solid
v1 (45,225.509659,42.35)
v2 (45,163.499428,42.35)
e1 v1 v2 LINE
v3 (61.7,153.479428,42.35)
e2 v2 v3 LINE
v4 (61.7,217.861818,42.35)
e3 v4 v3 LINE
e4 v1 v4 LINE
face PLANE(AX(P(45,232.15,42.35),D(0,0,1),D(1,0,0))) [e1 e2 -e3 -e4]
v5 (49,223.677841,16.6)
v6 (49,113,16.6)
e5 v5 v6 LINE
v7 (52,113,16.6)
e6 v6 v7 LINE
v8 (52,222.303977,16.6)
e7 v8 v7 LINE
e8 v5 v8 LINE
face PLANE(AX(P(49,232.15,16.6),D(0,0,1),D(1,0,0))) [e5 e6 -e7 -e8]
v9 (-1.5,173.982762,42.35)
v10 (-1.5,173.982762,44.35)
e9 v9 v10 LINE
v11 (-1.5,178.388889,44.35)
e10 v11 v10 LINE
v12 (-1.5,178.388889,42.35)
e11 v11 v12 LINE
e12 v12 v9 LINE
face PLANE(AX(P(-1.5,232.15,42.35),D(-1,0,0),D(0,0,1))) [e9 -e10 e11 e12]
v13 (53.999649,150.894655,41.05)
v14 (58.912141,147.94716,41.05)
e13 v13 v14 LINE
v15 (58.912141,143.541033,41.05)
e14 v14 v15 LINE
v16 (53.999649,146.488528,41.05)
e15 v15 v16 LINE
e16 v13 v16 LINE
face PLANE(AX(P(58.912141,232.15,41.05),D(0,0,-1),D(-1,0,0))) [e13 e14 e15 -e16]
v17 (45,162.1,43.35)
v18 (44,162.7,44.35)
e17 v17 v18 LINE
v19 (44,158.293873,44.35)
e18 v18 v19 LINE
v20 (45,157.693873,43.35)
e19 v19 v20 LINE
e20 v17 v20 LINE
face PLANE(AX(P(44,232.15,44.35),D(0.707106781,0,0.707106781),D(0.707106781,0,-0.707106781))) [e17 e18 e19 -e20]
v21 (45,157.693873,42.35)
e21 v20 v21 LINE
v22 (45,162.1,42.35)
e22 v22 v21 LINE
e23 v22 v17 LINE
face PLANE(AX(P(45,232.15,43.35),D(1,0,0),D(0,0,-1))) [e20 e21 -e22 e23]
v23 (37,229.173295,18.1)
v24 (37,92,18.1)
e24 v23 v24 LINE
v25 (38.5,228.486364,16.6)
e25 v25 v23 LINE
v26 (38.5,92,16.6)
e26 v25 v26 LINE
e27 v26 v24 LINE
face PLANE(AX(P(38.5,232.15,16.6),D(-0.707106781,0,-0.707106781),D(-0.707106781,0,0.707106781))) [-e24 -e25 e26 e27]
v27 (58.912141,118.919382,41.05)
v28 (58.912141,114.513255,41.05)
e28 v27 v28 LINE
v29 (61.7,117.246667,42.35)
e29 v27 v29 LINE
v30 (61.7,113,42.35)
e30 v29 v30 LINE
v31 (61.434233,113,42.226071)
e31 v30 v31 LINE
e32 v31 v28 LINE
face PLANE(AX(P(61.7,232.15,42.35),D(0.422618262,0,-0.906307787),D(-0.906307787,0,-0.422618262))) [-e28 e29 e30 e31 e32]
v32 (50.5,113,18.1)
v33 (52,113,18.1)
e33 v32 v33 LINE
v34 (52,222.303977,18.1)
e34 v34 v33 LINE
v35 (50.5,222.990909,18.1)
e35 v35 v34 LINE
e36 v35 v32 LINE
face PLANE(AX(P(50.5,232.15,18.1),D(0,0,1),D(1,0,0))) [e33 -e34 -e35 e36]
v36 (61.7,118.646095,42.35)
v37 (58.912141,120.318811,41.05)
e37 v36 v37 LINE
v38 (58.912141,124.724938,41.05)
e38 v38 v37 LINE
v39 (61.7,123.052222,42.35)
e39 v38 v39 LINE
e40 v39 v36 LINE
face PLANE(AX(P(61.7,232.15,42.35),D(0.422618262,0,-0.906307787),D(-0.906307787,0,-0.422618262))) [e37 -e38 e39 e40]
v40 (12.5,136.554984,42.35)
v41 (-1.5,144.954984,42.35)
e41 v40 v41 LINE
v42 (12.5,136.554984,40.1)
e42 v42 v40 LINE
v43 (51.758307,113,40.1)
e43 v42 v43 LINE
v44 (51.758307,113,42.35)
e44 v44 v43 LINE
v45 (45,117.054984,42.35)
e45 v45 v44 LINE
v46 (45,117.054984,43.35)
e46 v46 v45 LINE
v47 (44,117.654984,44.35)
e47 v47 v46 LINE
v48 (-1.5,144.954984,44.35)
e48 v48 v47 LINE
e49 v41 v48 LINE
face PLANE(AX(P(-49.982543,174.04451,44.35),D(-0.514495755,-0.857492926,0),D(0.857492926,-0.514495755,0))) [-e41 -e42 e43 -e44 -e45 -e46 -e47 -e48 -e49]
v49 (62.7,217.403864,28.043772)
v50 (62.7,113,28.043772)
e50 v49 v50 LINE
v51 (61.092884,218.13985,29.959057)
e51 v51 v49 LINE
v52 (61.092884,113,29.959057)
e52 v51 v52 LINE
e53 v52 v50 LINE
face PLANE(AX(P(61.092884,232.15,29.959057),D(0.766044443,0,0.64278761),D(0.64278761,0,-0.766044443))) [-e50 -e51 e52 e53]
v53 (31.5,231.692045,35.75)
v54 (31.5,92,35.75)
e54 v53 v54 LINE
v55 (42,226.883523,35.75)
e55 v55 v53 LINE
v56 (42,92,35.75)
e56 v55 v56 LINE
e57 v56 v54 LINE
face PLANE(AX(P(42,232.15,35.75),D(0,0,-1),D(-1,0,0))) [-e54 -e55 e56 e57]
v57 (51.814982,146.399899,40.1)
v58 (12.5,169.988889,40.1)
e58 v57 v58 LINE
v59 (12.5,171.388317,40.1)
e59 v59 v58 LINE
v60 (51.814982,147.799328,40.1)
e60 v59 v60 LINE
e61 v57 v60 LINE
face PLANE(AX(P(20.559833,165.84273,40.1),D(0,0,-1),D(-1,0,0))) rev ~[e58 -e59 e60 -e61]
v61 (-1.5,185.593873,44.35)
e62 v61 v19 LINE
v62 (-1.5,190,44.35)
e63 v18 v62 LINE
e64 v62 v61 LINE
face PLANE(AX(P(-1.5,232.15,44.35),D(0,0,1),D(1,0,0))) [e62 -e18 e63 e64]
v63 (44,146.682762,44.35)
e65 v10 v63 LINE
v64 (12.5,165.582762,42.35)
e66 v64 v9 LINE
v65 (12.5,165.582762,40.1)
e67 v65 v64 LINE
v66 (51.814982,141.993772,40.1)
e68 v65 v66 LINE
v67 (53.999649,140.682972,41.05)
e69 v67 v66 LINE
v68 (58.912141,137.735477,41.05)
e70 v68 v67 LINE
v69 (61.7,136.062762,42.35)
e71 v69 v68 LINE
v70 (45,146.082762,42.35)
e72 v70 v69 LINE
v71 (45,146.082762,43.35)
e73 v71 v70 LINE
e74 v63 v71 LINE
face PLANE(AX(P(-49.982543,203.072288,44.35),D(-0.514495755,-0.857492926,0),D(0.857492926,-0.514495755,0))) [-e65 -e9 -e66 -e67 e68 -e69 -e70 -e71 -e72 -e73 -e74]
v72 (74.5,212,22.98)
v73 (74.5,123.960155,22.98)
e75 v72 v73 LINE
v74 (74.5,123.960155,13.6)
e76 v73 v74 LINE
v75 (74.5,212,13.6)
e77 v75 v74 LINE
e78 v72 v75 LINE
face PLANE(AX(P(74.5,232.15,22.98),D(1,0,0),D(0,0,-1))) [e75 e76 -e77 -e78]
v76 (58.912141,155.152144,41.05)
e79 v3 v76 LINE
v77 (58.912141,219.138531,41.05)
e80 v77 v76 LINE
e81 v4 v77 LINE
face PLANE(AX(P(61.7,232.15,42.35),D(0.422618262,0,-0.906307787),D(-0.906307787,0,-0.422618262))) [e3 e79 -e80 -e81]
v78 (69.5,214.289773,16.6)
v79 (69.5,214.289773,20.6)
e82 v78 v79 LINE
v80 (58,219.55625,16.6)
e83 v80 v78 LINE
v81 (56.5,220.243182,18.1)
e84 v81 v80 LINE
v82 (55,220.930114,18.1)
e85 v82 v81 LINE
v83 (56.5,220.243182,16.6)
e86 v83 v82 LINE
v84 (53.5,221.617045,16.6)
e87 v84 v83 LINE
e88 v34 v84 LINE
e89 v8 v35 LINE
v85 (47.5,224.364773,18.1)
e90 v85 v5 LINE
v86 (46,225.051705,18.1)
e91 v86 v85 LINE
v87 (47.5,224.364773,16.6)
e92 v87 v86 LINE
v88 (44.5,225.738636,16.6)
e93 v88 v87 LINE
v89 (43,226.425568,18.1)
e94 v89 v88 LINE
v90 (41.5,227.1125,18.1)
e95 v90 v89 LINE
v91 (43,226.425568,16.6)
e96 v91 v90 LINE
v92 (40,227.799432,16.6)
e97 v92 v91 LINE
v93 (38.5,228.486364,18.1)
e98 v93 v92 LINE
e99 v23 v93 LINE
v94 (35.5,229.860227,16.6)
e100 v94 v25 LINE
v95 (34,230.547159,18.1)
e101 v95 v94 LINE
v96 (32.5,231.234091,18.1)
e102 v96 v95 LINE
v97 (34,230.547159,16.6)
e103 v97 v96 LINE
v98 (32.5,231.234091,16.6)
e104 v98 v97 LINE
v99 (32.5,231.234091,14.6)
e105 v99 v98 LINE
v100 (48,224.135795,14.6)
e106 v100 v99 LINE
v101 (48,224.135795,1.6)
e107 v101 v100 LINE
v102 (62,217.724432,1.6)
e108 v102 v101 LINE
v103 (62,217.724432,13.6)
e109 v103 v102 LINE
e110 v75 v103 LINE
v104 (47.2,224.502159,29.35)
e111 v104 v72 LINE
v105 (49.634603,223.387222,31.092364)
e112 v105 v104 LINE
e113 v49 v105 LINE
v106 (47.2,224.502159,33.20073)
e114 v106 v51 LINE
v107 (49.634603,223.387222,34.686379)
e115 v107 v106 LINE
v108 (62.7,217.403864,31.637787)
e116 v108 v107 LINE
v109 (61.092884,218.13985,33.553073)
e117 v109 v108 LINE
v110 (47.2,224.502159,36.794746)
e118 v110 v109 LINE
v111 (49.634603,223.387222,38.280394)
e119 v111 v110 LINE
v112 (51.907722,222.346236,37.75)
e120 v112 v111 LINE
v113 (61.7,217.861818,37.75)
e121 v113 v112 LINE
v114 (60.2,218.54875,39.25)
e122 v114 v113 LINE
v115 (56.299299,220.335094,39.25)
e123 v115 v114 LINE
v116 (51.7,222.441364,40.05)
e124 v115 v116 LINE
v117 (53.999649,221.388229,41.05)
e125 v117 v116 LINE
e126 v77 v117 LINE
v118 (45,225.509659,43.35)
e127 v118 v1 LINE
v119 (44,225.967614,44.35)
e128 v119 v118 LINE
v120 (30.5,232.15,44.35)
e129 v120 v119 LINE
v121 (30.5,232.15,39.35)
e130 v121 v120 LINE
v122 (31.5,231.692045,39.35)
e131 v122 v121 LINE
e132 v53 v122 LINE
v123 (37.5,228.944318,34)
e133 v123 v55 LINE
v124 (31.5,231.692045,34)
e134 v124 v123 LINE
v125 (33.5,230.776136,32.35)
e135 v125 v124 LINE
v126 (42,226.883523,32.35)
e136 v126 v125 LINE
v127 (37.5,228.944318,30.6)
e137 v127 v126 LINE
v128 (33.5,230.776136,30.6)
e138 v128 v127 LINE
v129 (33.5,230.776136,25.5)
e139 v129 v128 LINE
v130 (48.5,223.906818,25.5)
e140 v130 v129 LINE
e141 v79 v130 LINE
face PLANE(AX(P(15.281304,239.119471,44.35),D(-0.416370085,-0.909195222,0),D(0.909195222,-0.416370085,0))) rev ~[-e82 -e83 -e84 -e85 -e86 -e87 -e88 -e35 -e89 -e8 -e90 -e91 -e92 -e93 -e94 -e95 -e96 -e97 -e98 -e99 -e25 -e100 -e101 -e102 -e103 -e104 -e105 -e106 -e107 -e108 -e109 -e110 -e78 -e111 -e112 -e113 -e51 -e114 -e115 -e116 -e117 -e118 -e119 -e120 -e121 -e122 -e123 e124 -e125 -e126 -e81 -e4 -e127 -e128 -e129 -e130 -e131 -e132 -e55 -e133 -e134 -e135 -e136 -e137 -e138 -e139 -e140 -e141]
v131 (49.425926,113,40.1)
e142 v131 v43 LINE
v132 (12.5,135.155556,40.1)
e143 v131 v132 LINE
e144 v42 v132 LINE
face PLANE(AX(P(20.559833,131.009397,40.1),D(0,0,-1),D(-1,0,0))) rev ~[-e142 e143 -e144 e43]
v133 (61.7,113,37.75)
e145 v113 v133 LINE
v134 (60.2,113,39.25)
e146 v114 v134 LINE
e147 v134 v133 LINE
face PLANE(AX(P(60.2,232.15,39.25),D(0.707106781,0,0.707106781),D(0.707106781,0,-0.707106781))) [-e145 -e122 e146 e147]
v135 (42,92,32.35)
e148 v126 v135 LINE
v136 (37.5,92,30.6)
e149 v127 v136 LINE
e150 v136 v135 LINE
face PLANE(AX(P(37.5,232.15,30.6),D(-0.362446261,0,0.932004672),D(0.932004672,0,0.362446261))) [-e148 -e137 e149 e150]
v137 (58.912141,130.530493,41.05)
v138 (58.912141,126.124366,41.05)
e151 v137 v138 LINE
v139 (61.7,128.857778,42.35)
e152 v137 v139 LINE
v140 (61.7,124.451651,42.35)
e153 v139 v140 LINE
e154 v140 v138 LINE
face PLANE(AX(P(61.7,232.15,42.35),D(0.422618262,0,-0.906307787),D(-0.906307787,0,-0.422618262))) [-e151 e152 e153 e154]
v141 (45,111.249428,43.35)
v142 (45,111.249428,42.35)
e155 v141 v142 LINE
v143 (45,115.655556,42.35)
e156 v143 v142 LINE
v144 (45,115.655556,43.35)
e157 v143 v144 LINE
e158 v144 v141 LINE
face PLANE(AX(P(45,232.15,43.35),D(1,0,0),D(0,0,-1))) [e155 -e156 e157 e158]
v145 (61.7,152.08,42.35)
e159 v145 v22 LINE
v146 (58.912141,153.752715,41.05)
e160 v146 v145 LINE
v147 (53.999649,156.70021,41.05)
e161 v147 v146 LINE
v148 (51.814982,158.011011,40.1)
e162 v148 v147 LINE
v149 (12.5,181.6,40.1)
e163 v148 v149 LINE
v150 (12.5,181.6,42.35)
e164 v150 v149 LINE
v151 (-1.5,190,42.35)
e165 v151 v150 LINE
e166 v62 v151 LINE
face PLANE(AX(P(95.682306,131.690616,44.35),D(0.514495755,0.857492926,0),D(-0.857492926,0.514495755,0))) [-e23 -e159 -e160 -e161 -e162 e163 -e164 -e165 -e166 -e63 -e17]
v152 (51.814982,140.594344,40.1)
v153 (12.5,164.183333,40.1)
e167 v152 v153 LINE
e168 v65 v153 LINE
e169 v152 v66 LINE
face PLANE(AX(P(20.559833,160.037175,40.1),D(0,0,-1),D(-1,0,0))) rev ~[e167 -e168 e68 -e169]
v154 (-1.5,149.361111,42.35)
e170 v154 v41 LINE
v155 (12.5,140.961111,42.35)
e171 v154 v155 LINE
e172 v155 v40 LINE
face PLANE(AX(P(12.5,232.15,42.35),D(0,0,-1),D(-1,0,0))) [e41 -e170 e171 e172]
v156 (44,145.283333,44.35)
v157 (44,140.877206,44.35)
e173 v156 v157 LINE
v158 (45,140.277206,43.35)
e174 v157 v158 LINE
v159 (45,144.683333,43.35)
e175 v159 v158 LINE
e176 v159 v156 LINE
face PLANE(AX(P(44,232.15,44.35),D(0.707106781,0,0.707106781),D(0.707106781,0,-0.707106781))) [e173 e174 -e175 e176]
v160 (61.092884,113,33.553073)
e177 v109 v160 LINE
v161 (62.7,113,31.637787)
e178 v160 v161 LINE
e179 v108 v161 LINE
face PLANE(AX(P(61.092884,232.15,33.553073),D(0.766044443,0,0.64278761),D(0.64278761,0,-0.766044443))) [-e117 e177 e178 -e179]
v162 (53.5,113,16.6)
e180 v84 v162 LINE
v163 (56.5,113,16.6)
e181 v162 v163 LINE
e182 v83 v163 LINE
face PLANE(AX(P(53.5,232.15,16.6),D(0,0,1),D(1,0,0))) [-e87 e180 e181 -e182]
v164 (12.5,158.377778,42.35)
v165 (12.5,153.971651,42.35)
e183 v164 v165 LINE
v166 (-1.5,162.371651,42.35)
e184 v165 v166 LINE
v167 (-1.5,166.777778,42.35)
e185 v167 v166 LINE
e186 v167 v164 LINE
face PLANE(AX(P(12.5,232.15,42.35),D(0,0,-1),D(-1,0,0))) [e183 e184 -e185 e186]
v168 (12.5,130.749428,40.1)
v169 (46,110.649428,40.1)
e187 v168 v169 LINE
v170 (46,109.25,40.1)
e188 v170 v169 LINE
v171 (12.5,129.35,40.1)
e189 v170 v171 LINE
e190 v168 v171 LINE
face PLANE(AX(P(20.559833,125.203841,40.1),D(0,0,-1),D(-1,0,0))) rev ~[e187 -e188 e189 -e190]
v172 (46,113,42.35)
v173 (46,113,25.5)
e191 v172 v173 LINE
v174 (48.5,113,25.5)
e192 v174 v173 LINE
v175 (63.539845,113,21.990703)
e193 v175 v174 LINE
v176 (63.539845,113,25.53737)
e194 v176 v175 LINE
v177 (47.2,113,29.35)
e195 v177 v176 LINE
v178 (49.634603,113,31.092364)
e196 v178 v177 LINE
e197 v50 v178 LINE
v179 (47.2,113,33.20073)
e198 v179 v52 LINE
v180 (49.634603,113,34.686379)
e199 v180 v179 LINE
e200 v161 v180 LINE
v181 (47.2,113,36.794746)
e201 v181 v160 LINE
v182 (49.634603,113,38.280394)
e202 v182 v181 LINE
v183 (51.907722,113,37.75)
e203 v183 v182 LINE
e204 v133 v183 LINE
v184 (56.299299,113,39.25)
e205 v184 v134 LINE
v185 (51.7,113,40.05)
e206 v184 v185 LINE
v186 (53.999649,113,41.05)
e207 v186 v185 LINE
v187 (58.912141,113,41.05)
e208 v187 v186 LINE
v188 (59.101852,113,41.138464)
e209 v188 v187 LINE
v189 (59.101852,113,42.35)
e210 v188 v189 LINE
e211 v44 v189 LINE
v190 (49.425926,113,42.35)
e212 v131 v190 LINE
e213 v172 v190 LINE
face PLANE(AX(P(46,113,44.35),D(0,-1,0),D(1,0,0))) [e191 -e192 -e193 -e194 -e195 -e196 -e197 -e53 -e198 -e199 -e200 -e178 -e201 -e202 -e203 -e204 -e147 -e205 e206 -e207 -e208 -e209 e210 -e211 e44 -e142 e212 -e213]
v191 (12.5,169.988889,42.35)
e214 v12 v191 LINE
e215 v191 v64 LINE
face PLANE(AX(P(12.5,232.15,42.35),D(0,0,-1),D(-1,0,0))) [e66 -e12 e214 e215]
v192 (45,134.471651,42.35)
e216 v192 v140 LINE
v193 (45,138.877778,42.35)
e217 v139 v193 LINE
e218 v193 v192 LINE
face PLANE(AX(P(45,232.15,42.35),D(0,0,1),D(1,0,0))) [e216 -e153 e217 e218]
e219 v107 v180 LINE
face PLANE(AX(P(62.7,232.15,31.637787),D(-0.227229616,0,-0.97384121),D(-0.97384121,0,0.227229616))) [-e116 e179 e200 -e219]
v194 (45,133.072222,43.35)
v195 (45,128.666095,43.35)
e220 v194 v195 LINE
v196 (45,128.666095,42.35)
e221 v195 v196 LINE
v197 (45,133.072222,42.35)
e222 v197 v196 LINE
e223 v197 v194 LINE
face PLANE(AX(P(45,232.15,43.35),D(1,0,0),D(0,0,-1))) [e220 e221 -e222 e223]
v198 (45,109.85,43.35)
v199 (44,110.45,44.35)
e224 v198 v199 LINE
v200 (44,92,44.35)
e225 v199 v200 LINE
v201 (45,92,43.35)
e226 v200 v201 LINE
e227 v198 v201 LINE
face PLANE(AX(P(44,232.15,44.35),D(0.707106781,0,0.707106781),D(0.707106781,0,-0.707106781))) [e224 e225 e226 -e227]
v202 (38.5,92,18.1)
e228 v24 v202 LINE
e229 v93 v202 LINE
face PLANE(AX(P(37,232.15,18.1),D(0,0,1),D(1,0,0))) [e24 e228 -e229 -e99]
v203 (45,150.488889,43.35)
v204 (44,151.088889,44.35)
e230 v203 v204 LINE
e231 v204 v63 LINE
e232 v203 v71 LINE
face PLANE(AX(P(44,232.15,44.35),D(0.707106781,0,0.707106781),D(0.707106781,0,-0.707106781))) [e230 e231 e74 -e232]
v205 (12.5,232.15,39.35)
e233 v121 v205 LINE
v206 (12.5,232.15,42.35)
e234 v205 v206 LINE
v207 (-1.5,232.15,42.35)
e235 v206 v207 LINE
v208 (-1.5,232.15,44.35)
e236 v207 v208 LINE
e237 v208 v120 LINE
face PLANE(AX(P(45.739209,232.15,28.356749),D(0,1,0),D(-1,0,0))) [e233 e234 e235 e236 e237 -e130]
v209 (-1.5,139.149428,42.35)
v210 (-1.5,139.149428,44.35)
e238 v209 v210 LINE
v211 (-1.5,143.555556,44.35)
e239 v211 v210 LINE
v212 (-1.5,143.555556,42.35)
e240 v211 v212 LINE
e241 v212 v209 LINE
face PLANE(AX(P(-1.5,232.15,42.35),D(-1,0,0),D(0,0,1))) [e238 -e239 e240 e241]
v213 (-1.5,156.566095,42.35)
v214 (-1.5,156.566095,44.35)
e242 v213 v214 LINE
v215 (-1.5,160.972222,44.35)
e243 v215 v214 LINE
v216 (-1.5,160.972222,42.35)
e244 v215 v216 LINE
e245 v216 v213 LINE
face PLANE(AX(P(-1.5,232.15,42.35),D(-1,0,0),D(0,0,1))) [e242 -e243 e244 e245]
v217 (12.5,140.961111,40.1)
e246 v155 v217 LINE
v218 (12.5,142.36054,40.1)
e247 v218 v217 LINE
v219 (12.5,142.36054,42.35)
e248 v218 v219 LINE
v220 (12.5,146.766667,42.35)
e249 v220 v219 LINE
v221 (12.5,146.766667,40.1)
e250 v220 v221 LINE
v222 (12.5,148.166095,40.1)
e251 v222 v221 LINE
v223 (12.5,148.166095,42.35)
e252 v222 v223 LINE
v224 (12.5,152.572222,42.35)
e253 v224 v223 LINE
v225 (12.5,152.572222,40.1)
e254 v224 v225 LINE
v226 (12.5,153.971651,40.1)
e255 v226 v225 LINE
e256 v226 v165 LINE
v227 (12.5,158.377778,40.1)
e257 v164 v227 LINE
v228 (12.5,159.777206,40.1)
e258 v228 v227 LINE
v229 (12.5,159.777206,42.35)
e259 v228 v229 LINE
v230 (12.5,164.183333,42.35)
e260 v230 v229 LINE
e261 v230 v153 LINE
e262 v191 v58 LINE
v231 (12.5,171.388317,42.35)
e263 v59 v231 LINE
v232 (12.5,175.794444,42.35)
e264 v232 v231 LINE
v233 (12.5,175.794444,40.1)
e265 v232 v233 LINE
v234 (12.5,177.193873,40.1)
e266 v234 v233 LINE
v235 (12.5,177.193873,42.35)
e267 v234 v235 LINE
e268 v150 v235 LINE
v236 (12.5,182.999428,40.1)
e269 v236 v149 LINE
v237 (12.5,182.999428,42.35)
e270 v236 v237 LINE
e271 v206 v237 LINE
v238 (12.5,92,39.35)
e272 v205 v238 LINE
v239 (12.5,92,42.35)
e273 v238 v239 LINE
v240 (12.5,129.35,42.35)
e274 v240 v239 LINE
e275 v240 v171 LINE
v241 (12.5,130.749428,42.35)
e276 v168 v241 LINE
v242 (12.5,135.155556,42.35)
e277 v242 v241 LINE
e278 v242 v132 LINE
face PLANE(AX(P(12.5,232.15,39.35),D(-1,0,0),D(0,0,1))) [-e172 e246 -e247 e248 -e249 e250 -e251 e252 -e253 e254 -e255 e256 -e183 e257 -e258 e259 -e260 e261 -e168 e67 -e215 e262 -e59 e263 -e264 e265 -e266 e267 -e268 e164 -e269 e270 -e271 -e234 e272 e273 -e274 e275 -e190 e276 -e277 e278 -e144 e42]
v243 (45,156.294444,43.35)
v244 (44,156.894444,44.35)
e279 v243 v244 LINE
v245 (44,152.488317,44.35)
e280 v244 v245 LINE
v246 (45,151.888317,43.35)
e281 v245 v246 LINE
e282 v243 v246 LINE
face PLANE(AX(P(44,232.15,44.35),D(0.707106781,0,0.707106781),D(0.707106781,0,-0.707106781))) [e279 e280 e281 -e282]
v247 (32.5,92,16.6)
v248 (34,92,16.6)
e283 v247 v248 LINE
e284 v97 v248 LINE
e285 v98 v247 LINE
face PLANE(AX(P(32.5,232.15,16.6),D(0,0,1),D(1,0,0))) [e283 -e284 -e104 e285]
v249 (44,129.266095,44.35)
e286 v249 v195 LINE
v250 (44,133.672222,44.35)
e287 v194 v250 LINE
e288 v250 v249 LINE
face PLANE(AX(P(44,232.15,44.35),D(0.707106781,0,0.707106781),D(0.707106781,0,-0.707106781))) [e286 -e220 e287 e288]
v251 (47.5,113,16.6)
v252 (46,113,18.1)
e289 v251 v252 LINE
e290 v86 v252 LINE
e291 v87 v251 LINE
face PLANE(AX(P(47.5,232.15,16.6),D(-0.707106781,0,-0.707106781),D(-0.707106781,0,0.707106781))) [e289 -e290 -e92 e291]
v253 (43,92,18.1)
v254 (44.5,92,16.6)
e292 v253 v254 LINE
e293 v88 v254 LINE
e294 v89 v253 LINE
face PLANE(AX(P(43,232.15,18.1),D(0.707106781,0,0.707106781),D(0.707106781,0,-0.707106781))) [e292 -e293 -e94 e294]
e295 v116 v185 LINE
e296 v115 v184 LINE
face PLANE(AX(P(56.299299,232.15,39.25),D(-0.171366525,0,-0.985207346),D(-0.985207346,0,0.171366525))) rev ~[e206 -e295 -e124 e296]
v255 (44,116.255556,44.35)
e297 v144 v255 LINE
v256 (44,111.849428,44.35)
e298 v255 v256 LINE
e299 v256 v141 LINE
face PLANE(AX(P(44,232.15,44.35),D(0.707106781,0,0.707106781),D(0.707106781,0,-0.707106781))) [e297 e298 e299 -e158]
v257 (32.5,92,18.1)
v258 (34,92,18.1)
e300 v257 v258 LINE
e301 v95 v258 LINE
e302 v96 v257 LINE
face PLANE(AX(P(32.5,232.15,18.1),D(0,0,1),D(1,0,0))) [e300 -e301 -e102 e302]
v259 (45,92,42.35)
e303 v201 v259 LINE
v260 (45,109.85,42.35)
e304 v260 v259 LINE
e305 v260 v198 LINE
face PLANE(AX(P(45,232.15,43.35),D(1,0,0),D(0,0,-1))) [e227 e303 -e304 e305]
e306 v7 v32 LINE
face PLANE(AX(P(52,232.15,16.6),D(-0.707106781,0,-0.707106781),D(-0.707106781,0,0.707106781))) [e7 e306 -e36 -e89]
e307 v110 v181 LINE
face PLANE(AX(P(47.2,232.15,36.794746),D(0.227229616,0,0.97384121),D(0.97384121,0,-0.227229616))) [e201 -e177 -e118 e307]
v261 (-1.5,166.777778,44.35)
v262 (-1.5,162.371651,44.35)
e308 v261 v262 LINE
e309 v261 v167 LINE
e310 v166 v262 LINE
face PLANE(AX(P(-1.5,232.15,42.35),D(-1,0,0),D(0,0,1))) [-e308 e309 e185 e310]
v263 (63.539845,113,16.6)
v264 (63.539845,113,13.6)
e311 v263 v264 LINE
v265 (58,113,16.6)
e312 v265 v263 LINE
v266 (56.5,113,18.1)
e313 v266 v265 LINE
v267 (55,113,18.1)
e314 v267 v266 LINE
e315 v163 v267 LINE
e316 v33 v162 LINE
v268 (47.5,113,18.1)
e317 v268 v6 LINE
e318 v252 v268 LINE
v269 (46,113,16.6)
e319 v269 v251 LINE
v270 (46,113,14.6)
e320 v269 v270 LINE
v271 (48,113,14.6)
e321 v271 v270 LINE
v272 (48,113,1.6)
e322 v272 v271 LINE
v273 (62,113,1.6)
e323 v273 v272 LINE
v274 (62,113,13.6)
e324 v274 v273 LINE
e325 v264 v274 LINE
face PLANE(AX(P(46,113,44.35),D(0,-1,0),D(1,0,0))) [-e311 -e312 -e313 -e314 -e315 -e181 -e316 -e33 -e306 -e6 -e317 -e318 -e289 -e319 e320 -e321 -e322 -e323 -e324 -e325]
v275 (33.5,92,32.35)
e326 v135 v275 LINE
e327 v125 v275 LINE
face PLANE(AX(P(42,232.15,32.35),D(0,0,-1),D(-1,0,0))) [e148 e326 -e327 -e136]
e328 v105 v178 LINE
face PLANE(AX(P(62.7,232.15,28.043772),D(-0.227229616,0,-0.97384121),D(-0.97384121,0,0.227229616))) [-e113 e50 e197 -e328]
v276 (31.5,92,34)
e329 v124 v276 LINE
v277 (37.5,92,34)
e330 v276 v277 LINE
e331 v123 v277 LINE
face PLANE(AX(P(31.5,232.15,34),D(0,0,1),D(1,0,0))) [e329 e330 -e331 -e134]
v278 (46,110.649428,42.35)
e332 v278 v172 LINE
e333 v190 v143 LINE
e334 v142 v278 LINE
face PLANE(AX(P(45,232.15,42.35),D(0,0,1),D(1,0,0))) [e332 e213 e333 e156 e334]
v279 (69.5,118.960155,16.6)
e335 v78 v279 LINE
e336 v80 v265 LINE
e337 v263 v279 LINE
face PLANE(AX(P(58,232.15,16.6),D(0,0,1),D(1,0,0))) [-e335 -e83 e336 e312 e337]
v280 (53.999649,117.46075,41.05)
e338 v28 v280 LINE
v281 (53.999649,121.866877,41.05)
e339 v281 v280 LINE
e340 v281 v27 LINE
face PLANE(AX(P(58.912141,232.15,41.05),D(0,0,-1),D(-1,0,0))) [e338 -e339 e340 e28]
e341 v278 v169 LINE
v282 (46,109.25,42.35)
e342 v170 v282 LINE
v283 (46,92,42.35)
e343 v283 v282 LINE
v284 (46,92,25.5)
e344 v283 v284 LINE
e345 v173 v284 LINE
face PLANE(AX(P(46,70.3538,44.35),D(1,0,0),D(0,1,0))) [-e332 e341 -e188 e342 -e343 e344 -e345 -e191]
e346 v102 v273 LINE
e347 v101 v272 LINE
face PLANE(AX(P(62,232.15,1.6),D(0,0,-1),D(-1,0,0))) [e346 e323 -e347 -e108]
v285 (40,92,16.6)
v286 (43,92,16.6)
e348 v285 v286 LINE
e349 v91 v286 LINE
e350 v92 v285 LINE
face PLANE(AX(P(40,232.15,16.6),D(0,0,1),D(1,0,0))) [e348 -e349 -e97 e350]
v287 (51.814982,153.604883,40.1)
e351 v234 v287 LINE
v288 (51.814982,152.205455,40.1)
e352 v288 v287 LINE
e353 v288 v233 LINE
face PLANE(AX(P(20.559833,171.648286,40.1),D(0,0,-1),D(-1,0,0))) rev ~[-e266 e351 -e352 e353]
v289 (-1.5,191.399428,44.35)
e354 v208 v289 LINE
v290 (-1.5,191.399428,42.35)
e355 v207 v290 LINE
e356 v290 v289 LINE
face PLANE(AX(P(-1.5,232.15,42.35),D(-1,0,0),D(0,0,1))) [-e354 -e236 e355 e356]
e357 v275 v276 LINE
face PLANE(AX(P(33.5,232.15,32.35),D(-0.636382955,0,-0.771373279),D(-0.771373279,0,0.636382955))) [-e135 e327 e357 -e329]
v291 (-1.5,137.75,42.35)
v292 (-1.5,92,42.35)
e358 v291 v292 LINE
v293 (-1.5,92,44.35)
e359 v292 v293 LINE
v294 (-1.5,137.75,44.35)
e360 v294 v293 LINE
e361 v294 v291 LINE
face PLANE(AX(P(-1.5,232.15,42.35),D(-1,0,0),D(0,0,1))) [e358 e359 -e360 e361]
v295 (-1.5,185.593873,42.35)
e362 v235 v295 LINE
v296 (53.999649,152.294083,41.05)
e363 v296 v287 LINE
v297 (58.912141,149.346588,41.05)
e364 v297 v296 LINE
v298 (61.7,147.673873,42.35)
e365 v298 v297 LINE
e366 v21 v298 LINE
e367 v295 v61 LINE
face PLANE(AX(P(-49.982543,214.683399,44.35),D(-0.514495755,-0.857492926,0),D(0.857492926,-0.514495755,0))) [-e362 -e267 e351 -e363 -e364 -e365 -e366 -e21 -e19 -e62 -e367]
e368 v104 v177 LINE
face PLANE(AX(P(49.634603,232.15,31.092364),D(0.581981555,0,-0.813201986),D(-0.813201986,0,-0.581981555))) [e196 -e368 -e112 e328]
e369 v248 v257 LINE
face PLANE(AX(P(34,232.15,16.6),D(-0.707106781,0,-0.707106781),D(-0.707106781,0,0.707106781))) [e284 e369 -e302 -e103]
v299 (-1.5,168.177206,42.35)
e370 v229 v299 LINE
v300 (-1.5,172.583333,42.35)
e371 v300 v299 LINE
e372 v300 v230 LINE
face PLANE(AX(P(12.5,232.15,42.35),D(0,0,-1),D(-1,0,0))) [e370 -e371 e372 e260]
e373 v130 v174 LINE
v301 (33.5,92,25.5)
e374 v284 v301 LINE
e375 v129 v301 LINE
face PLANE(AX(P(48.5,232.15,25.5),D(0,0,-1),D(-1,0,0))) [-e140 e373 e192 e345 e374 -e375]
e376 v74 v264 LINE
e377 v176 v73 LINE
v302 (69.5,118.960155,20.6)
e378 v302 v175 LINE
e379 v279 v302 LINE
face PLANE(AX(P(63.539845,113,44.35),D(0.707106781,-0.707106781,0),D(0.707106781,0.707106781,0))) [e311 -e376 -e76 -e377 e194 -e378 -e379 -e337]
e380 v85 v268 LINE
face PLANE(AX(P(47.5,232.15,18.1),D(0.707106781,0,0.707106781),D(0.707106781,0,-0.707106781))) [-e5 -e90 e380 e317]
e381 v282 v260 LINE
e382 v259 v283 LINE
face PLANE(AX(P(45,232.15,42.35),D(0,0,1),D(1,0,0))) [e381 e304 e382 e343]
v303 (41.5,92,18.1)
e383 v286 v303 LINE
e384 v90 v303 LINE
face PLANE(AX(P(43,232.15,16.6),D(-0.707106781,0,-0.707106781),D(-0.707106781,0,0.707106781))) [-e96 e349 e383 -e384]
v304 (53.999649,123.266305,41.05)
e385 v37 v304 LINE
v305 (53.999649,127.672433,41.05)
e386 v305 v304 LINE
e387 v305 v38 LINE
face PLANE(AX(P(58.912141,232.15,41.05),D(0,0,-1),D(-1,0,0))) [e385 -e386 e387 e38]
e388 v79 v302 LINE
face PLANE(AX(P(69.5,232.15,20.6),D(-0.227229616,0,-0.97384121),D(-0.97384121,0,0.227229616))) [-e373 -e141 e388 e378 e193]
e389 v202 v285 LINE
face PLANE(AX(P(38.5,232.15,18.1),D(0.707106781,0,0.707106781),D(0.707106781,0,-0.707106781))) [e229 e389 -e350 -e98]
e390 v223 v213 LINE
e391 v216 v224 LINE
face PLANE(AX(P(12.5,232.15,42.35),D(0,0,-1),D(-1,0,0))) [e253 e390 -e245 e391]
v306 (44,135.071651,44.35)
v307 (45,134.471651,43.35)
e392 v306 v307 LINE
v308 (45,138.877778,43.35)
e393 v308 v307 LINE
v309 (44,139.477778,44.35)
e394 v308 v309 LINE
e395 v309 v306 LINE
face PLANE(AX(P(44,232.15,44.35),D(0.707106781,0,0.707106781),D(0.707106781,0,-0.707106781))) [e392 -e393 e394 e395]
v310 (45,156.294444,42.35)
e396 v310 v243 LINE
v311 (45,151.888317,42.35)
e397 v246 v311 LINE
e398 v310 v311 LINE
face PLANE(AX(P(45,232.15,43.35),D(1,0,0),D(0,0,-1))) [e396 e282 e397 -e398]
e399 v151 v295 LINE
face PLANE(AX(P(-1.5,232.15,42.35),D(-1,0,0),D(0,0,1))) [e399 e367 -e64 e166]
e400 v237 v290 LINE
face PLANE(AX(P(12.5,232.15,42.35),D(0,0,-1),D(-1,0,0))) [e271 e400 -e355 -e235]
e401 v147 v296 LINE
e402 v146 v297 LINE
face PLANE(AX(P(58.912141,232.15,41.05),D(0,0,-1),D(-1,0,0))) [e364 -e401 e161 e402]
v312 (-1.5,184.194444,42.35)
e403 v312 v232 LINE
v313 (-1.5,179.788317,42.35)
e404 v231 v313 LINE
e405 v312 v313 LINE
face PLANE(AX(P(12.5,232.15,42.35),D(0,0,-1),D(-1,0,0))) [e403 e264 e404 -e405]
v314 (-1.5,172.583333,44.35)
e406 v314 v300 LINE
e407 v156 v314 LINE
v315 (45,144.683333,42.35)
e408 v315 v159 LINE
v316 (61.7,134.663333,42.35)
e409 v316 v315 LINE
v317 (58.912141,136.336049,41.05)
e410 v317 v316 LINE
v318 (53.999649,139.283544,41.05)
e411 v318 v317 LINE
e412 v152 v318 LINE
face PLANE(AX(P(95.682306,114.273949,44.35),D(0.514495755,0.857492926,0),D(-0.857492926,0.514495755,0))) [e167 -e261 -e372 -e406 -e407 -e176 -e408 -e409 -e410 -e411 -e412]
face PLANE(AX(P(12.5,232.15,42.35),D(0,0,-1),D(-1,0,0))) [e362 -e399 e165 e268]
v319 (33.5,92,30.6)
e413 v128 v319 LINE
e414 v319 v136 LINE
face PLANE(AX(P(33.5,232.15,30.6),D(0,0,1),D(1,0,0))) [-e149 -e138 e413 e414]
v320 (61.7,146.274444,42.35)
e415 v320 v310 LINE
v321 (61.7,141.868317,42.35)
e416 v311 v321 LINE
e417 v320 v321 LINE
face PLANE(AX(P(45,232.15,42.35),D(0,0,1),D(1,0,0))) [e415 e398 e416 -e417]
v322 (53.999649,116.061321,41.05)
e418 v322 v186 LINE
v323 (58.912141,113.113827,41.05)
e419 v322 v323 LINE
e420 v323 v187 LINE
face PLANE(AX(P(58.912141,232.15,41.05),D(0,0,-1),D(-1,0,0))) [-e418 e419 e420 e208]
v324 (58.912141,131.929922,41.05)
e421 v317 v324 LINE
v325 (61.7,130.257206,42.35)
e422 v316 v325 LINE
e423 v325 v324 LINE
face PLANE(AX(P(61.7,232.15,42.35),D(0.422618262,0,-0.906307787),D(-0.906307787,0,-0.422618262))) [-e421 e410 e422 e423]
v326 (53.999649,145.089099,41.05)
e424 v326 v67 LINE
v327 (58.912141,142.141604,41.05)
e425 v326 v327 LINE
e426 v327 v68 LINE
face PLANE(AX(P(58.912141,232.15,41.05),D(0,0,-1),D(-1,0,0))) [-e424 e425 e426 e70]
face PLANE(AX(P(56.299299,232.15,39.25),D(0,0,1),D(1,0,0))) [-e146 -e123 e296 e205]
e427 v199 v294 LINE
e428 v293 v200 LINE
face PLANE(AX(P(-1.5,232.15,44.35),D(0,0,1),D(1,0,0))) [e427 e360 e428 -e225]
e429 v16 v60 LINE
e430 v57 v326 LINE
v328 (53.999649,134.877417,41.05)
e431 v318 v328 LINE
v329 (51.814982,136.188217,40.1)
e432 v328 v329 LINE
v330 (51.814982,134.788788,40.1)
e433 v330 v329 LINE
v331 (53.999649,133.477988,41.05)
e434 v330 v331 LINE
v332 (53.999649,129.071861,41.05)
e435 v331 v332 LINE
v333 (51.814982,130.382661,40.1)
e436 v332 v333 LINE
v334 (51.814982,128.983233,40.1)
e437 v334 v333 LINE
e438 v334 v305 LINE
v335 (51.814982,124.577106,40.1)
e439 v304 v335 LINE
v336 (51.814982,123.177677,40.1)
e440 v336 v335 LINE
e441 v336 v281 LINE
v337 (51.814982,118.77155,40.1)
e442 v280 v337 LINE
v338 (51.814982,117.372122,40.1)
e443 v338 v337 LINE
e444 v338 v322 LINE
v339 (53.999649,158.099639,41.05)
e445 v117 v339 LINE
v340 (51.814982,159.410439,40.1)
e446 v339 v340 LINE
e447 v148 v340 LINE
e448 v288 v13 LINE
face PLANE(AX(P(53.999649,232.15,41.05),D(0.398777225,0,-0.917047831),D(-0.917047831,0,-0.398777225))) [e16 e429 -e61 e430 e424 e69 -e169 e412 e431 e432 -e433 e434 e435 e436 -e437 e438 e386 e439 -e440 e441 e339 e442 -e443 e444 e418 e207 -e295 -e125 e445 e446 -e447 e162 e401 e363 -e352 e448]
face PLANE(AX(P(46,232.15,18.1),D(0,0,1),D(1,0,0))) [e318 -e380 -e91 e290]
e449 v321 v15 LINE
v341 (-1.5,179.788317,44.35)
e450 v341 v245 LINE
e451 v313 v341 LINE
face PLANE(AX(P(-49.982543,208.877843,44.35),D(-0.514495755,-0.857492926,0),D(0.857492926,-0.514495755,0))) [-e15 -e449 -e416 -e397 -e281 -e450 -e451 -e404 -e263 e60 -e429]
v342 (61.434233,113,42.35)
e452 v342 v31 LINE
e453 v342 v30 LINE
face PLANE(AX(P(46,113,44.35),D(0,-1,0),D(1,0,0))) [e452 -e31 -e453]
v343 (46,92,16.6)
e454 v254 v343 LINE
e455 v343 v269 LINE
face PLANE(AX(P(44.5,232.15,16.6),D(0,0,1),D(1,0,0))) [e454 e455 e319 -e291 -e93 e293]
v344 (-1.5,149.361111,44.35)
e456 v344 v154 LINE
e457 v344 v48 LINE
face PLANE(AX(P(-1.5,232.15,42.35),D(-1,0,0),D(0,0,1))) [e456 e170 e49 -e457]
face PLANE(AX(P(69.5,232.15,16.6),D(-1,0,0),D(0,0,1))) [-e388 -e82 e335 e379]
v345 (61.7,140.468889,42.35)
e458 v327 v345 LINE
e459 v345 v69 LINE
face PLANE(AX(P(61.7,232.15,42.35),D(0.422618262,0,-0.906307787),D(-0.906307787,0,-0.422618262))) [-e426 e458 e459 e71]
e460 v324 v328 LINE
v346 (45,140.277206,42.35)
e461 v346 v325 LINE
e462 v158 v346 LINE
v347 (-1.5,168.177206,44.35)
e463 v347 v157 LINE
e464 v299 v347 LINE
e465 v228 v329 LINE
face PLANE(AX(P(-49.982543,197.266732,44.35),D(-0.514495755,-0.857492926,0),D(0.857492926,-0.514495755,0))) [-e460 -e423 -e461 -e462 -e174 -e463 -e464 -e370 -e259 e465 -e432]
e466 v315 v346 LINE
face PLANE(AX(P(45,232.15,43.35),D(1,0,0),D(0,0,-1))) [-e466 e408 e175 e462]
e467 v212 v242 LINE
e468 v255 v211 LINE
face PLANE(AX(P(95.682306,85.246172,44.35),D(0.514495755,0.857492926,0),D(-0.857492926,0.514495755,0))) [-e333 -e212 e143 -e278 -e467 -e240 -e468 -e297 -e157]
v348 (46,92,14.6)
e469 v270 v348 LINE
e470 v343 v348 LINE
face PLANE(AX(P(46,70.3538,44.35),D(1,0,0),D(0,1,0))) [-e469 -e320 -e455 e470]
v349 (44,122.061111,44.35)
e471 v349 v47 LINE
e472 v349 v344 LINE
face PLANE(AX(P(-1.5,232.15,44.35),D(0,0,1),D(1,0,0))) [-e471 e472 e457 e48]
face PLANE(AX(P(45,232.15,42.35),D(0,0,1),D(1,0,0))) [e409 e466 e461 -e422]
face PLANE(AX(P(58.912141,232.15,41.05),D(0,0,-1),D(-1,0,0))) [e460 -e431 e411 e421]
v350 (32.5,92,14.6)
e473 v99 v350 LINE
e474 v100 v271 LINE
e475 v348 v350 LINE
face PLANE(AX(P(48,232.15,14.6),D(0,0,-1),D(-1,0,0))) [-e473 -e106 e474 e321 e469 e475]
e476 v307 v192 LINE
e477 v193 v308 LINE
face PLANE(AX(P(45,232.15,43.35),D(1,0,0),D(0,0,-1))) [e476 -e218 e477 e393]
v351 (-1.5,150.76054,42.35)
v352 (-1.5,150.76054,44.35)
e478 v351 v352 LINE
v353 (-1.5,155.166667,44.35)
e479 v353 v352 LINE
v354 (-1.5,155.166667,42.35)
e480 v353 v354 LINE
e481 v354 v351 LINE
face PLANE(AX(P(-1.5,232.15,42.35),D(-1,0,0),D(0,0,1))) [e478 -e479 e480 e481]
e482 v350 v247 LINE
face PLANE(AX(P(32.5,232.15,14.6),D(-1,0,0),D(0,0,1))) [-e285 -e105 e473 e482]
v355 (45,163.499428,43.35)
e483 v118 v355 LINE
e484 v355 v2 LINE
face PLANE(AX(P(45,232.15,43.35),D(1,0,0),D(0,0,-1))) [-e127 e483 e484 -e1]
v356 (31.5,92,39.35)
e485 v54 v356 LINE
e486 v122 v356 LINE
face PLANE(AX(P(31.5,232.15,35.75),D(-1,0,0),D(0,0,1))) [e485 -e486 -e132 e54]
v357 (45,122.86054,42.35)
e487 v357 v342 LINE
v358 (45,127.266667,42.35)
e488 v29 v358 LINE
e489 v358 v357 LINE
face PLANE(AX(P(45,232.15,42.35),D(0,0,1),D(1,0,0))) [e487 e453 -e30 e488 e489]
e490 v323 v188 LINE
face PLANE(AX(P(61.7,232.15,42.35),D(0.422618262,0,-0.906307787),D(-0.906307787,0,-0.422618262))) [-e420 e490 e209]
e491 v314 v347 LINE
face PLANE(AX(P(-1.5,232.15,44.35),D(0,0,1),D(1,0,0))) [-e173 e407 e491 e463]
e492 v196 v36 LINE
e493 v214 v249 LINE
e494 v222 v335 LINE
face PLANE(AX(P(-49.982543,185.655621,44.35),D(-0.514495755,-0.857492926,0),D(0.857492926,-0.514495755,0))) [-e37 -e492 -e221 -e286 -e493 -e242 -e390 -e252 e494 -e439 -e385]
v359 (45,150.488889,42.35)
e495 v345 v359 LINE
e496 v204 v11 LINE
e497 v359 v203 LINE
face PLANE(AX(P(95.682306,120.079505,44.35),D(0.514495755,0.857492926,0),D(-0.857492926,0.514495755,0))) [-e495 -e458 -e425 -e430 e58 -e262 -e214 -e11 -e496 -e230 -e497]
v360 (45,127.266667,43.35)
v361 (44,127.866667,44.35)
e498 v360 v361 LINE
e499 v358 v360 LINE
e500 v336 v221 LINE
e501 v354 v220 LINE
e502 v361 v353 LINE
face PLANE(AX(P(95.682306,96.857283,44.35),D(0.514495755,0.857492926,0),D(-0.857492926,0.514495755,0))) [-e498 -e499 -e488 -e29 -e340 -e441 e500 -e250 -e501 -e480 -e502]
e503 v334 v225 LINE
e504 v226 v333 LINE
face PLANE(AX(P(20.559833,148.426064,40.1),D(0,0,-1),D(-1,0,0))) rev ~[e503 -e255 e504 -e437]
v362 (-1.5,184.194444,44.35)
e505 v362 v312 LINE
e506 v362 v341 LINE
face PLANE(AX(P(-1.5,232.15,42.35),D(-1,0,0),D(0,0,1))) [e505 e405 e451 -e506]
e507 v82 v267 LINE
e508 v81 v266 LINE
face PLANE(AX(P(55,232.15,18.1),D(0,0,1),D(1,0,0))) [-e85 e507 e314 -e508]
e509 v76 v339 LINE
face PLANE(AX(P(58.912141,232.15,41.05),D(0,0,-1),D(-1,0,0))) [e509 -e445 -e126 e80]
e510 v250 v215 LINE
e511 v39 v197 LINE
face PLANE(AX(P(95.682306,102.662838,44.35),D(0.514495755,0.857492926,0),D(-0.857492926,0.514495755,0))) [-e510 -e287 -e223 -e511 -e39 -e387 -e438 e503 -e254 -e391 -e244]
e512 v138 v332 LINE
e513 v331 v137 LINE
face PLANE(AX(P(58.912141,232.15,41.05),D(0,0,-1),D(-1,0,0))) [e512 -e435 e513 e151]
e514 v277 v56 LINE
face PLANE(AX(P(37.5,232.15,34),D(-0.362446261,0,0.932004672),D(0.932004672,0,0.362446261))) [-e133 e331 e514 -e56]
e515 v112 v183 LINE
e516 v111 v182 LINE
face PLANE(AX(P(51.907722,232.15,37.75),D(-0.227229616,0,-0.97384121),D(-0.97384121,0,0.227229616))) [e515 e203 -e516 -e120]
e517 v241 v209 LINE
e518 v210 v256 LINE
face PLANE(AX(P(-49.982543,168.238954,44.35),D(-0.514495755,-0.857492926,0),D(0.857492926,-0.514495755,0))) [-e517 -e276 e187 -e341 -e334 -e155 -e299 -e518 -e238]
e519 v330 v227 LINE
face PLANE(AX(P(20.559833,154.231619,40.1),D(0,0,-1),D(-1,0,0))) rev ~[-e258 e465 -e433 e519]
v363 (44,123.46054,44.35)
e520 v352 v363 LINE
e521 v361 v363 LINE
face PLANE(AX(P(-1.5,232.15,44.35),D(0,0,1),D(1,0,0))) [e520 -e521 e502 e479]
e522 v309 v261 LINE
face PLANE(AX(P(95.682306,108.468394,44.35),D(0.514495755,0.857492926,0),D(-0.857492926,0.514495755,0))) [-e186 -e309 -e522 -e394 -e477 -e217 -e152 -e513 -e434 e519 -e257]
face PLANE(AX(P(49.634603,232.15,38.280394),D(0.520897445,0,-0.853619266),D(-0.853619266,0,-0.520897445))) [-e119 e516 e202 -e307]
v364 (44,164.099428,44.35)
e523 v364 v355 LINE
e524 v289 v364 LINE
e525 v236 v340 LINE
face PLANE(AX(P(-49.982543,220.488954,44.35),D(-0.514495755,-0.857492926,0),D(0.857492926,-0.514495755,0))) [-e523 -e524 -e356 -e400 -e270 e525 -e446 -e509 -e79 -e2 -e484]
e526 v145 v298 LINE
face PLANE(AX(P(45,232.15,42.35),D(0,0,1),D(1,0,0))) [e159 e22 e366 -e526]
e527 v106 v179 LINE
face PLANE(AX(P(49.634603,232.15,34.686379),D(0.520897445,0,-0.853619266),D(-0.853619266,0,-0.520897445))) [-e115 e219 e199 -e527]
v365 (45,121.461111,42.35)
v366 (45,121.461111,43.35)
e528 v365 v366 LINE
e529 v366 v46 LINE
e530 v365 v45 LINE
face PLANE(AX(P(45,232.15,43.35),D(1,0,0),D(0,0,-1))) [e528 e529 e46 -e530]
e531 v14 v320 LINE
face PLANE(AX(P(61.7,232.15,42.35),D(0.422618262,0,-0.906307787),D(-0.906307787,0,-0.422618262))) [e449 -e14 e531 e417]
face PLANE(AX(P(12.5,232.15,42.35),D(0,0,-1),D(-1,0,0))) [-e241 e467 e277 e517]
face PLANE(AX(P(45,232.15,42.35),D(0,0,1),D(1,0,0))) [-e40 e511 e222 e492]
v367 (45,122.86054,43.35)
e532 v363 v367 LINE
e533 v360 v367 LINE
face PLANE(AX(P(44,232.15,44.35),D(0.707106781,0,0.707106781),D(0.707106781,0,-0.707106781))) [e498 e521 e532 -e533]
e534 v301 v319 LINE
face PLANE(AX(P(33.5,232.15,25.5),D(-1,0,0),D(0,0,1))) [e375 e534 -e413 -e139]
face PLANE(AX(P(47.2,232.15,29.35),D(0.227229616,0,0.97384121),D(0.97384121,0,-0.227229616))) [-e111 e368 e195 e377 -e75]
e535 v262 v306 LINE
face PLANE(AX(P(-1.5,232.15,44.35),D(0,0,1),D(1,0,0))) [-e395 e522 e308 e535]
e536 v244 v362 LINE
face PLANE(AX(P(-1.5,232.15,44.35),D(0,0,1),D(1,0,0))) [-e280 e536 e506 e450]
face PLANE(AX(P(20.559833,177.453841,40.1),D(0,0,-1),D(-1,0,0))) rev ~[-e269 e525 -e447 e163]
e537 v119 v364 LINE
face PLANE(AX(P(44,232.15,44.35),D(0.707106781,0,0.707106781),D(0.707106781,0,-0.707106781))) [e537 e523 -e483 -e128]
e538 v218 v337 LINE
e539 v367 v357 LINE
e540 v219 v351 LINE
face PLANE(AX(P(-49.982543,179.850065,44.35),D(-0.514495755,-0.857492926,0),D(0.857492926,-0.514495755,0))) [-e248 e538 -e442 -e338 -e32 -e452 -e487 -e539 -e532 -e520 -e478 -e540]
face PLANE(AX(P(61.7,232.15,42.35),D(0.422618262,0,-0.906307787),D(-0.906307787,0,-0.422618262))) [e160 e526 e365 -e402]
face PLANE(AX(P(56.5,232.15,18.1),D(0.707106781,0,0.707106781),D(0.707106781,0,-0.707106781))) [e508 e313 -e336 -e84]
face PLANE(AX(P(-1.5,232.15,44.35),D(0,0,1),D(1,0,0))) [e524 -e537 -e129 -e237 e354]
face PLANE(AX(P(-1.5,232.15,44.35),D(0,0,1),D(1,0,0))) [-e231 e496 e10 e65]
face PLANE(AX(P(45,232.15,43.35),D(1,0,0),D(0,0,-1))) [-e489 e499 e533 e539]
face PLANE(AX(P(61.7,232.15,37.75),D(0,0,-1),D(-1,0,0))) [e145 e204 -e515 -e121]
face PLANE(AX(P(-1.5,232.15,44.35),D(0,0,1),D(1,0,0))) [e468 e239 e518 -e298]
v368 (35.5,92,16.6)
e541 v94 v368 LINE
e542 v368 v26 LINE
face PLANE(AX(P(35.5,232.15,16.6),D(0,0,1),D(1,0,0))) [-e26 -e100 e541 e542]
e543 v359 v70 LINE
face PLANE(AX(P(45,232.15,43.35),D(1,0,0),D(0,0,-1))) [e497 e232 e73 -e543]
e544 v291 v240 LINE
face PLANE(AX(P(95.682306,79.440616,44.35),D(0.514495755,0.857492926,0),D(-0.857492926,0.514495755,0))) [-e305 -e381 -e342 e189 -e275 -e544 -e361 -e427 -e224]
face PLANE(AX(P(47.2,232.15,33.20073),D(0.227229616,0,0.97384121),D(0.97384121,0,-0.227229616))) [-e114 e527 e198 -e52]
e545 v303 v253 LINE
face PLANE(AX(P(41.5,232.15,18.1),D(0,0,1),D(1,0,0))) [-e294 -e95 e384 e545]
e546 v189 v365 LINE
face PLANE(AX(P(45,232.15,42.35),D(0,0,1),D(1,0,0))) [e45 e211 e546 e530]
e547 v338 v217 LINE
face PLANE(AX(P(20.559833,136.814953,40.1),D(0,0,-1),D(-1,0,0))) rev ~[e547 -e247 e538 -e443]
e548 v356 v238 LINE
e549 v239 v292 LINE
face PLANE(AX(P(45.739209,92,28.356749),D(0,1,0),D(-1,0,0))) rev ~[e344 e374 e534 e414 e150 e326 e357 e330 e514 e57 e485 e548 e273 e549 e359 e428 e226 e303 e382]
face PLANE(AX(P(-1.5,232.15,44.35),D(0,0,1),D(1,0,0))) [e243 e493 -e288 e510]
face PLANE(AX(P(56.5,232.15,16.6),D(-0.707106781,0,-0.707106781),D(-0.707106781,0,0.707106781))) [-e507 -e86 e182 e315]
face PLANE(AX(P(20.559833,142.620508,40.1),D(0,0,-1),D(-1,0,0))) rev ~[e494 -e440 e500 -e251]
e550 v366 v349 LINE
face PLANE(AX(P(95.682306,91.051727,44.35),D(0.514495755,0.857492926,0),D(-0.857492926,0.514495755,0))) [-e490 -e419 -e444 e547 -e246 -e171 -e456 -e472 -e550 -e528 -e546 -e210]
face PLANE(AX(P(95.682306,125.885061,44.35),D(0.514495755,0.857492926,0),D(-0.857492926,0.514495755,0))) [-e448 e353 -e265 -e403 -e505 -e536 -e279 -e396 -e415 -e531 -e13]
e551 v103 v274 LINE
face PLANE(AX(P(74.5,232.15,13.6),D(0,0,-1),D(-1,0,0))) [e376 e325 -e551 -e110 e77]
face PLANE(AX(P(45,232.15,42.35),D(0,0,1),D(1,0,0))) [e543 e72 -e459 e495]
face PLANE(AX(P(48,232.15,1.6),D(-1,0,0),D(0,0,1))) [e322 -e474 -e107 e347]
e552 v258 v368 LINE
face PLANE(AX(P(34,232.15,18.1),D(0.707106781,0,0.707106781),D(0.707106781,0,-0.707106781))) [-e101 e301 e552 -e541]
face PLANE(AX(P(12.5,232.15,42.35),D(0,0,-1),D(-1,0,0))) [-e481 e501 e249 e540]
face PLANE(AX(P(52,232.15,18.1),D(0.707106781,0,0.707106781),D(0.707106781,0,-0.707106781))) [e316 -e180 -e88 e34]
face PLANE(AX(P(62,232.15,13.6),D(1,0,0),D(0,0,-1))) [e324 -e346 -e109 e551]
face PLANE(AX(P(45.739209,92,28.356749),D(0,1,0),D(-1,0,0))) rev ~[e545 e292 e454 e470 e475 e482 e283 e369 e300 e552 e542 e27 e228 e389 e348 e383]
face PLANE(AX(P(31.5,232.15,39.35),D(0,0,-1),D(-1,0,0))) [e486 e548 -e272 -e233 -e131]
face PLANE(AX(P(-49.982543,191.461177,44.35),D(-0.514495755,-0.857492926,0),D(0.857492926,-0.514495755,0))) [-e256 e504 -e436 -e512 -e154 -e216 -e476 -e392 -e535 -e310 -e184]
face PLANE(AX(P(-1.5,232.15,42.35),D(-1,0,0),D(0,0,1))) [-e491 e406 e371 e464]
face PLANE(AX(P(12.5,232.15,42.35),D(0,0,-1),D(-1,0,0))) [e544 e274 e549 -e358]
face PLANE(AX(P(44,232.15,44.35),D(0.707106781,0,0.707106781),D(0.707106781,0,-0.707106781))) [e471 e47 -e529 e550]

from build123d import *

# Parameters (mm, degrees)
PAD066_DEPTH        = 140.15
POCKET025_DEPTH     = 42.751
POCKET026_DEPTH     = 4.25
LINEARPATTERN_COUNT = 10
LINEARPATTERN_PITCH = 5.8055555556


with BuildPart() as part:
    # Sketch109 (on DatumPlane) → Pad066 (new body)
    with BuildSketch(Plane.XZ.offset(-232.15)):
        Polygon((-1.5, 44.35), (44, 44.35), (45, 43.35), (45, 42.35), (61.7, 42.35), (58.9121410033, 41.05), (53.9996494638, 41.05), (51.7, 40.05), (53.9996494638, 39.65), (56.2992989276, 39.25), (60.2, 39.25), (61.7, 37.75), (51.907721902, 37.75), (49.6346030244, 38.2803944048), (47.2, 36.794745537), (61.0928843686, 33.5530725177), (62.7, 31.6377866903), (49.6346030244, 34.6863793179), (47.2, 33.2007304502), (61.0928843686, 29.9590574308), (62.7, 28.0437716034), (49.6346030244, 31.0923642311), (47.2, 29.35), (74.5, 22.98), (74.5, 13.6), (62, 13.6), (62, 1.6), (48, 1.6), (48, 14.6), (32.5, 14.6), (32.5, 16.6), (34, 16.6), (32.5, 18.1), (34, 18.1), (35.5, 16.6), (38.5, 16.6), (37, 18.1), (38.5, 18.1), (40, 16.6), (43, 16.6), (41.5, 18.1), (43, 18.1), (44.5, 16.6), (47.5, 16.6), (46, 18.1), (47.5, 18.1), (49, 16.6), (52, 16.6), (50.5, 18.1), (52, 18.1), (53.5, 16.6), (56.5, 16.6), (55, 18.1), (56.5, 18.1), (58, 16.6), (69.5, 16.6), (69.5, 20.6), (48.5, 25.5), (33.5, 25.5), (33.5, 30.6), (37.5, 30.6), (42, 32.35), (33.5, 32.35), (31.5, 34), (37.5, 34), (42, 35.75), (31.5, 35.75), (31.5, 39.35), (12.5, 39.35), (12.5, 42.35), (-1.5, 42.35), align=None)
    extrude(amount=PAD066_DEPTH)

    # Sketch110 (on Face2 of Pad066) → Pocket025 (cut, through all)
    with BuildSketch(Plane(origin=(0, 232.15, 44.35), x_dir=(1, 0, 0), z_dir=(0, 0, 1))):
        Polygon((46, -161.7962), (46, -119.15), (63.5398448916, -119.15), (102.309495165, -80.3803497266), (102.309495165, -161.7962), align=None)
        Polygon((15.2813043199, 6.9694708626), (137.7083776888, -49.0965638734), (137.7083776888, 6.9694708626), align=None)
    extrude(amount=-POCKET025_DEPTH, mode=Mode.SUBTRACT)

    # Sketch111 (on Face2 of Pocket025) → Pocket026 (cut)
    with BuildSketch(Plane(origin=(0, 232.15, 44.35), x_dir=(1, 0, 0), z_dir=(0, 0, 1))):
        Polygon((-49.9825431556, -63.9110456519), (101.4245877181, -154.7553241761), (95.6823064576, -152.7093838745), (-60.3201060514, -59.1079363692), align=None)
    pocket026 = extrude(amount=-POCKET026_DEPTH, mode=Mode.SUBTRACT)

    # LinearPattern: Pocket026 ×10
    with Locations(*[(0, i * LINEARPATTERN_PITCH, 0) for i in range(1, LINEARPATTERN_COUNT)]):
        add(pocket026, mode=Mode.SUBTRACT)


solid = part.part
